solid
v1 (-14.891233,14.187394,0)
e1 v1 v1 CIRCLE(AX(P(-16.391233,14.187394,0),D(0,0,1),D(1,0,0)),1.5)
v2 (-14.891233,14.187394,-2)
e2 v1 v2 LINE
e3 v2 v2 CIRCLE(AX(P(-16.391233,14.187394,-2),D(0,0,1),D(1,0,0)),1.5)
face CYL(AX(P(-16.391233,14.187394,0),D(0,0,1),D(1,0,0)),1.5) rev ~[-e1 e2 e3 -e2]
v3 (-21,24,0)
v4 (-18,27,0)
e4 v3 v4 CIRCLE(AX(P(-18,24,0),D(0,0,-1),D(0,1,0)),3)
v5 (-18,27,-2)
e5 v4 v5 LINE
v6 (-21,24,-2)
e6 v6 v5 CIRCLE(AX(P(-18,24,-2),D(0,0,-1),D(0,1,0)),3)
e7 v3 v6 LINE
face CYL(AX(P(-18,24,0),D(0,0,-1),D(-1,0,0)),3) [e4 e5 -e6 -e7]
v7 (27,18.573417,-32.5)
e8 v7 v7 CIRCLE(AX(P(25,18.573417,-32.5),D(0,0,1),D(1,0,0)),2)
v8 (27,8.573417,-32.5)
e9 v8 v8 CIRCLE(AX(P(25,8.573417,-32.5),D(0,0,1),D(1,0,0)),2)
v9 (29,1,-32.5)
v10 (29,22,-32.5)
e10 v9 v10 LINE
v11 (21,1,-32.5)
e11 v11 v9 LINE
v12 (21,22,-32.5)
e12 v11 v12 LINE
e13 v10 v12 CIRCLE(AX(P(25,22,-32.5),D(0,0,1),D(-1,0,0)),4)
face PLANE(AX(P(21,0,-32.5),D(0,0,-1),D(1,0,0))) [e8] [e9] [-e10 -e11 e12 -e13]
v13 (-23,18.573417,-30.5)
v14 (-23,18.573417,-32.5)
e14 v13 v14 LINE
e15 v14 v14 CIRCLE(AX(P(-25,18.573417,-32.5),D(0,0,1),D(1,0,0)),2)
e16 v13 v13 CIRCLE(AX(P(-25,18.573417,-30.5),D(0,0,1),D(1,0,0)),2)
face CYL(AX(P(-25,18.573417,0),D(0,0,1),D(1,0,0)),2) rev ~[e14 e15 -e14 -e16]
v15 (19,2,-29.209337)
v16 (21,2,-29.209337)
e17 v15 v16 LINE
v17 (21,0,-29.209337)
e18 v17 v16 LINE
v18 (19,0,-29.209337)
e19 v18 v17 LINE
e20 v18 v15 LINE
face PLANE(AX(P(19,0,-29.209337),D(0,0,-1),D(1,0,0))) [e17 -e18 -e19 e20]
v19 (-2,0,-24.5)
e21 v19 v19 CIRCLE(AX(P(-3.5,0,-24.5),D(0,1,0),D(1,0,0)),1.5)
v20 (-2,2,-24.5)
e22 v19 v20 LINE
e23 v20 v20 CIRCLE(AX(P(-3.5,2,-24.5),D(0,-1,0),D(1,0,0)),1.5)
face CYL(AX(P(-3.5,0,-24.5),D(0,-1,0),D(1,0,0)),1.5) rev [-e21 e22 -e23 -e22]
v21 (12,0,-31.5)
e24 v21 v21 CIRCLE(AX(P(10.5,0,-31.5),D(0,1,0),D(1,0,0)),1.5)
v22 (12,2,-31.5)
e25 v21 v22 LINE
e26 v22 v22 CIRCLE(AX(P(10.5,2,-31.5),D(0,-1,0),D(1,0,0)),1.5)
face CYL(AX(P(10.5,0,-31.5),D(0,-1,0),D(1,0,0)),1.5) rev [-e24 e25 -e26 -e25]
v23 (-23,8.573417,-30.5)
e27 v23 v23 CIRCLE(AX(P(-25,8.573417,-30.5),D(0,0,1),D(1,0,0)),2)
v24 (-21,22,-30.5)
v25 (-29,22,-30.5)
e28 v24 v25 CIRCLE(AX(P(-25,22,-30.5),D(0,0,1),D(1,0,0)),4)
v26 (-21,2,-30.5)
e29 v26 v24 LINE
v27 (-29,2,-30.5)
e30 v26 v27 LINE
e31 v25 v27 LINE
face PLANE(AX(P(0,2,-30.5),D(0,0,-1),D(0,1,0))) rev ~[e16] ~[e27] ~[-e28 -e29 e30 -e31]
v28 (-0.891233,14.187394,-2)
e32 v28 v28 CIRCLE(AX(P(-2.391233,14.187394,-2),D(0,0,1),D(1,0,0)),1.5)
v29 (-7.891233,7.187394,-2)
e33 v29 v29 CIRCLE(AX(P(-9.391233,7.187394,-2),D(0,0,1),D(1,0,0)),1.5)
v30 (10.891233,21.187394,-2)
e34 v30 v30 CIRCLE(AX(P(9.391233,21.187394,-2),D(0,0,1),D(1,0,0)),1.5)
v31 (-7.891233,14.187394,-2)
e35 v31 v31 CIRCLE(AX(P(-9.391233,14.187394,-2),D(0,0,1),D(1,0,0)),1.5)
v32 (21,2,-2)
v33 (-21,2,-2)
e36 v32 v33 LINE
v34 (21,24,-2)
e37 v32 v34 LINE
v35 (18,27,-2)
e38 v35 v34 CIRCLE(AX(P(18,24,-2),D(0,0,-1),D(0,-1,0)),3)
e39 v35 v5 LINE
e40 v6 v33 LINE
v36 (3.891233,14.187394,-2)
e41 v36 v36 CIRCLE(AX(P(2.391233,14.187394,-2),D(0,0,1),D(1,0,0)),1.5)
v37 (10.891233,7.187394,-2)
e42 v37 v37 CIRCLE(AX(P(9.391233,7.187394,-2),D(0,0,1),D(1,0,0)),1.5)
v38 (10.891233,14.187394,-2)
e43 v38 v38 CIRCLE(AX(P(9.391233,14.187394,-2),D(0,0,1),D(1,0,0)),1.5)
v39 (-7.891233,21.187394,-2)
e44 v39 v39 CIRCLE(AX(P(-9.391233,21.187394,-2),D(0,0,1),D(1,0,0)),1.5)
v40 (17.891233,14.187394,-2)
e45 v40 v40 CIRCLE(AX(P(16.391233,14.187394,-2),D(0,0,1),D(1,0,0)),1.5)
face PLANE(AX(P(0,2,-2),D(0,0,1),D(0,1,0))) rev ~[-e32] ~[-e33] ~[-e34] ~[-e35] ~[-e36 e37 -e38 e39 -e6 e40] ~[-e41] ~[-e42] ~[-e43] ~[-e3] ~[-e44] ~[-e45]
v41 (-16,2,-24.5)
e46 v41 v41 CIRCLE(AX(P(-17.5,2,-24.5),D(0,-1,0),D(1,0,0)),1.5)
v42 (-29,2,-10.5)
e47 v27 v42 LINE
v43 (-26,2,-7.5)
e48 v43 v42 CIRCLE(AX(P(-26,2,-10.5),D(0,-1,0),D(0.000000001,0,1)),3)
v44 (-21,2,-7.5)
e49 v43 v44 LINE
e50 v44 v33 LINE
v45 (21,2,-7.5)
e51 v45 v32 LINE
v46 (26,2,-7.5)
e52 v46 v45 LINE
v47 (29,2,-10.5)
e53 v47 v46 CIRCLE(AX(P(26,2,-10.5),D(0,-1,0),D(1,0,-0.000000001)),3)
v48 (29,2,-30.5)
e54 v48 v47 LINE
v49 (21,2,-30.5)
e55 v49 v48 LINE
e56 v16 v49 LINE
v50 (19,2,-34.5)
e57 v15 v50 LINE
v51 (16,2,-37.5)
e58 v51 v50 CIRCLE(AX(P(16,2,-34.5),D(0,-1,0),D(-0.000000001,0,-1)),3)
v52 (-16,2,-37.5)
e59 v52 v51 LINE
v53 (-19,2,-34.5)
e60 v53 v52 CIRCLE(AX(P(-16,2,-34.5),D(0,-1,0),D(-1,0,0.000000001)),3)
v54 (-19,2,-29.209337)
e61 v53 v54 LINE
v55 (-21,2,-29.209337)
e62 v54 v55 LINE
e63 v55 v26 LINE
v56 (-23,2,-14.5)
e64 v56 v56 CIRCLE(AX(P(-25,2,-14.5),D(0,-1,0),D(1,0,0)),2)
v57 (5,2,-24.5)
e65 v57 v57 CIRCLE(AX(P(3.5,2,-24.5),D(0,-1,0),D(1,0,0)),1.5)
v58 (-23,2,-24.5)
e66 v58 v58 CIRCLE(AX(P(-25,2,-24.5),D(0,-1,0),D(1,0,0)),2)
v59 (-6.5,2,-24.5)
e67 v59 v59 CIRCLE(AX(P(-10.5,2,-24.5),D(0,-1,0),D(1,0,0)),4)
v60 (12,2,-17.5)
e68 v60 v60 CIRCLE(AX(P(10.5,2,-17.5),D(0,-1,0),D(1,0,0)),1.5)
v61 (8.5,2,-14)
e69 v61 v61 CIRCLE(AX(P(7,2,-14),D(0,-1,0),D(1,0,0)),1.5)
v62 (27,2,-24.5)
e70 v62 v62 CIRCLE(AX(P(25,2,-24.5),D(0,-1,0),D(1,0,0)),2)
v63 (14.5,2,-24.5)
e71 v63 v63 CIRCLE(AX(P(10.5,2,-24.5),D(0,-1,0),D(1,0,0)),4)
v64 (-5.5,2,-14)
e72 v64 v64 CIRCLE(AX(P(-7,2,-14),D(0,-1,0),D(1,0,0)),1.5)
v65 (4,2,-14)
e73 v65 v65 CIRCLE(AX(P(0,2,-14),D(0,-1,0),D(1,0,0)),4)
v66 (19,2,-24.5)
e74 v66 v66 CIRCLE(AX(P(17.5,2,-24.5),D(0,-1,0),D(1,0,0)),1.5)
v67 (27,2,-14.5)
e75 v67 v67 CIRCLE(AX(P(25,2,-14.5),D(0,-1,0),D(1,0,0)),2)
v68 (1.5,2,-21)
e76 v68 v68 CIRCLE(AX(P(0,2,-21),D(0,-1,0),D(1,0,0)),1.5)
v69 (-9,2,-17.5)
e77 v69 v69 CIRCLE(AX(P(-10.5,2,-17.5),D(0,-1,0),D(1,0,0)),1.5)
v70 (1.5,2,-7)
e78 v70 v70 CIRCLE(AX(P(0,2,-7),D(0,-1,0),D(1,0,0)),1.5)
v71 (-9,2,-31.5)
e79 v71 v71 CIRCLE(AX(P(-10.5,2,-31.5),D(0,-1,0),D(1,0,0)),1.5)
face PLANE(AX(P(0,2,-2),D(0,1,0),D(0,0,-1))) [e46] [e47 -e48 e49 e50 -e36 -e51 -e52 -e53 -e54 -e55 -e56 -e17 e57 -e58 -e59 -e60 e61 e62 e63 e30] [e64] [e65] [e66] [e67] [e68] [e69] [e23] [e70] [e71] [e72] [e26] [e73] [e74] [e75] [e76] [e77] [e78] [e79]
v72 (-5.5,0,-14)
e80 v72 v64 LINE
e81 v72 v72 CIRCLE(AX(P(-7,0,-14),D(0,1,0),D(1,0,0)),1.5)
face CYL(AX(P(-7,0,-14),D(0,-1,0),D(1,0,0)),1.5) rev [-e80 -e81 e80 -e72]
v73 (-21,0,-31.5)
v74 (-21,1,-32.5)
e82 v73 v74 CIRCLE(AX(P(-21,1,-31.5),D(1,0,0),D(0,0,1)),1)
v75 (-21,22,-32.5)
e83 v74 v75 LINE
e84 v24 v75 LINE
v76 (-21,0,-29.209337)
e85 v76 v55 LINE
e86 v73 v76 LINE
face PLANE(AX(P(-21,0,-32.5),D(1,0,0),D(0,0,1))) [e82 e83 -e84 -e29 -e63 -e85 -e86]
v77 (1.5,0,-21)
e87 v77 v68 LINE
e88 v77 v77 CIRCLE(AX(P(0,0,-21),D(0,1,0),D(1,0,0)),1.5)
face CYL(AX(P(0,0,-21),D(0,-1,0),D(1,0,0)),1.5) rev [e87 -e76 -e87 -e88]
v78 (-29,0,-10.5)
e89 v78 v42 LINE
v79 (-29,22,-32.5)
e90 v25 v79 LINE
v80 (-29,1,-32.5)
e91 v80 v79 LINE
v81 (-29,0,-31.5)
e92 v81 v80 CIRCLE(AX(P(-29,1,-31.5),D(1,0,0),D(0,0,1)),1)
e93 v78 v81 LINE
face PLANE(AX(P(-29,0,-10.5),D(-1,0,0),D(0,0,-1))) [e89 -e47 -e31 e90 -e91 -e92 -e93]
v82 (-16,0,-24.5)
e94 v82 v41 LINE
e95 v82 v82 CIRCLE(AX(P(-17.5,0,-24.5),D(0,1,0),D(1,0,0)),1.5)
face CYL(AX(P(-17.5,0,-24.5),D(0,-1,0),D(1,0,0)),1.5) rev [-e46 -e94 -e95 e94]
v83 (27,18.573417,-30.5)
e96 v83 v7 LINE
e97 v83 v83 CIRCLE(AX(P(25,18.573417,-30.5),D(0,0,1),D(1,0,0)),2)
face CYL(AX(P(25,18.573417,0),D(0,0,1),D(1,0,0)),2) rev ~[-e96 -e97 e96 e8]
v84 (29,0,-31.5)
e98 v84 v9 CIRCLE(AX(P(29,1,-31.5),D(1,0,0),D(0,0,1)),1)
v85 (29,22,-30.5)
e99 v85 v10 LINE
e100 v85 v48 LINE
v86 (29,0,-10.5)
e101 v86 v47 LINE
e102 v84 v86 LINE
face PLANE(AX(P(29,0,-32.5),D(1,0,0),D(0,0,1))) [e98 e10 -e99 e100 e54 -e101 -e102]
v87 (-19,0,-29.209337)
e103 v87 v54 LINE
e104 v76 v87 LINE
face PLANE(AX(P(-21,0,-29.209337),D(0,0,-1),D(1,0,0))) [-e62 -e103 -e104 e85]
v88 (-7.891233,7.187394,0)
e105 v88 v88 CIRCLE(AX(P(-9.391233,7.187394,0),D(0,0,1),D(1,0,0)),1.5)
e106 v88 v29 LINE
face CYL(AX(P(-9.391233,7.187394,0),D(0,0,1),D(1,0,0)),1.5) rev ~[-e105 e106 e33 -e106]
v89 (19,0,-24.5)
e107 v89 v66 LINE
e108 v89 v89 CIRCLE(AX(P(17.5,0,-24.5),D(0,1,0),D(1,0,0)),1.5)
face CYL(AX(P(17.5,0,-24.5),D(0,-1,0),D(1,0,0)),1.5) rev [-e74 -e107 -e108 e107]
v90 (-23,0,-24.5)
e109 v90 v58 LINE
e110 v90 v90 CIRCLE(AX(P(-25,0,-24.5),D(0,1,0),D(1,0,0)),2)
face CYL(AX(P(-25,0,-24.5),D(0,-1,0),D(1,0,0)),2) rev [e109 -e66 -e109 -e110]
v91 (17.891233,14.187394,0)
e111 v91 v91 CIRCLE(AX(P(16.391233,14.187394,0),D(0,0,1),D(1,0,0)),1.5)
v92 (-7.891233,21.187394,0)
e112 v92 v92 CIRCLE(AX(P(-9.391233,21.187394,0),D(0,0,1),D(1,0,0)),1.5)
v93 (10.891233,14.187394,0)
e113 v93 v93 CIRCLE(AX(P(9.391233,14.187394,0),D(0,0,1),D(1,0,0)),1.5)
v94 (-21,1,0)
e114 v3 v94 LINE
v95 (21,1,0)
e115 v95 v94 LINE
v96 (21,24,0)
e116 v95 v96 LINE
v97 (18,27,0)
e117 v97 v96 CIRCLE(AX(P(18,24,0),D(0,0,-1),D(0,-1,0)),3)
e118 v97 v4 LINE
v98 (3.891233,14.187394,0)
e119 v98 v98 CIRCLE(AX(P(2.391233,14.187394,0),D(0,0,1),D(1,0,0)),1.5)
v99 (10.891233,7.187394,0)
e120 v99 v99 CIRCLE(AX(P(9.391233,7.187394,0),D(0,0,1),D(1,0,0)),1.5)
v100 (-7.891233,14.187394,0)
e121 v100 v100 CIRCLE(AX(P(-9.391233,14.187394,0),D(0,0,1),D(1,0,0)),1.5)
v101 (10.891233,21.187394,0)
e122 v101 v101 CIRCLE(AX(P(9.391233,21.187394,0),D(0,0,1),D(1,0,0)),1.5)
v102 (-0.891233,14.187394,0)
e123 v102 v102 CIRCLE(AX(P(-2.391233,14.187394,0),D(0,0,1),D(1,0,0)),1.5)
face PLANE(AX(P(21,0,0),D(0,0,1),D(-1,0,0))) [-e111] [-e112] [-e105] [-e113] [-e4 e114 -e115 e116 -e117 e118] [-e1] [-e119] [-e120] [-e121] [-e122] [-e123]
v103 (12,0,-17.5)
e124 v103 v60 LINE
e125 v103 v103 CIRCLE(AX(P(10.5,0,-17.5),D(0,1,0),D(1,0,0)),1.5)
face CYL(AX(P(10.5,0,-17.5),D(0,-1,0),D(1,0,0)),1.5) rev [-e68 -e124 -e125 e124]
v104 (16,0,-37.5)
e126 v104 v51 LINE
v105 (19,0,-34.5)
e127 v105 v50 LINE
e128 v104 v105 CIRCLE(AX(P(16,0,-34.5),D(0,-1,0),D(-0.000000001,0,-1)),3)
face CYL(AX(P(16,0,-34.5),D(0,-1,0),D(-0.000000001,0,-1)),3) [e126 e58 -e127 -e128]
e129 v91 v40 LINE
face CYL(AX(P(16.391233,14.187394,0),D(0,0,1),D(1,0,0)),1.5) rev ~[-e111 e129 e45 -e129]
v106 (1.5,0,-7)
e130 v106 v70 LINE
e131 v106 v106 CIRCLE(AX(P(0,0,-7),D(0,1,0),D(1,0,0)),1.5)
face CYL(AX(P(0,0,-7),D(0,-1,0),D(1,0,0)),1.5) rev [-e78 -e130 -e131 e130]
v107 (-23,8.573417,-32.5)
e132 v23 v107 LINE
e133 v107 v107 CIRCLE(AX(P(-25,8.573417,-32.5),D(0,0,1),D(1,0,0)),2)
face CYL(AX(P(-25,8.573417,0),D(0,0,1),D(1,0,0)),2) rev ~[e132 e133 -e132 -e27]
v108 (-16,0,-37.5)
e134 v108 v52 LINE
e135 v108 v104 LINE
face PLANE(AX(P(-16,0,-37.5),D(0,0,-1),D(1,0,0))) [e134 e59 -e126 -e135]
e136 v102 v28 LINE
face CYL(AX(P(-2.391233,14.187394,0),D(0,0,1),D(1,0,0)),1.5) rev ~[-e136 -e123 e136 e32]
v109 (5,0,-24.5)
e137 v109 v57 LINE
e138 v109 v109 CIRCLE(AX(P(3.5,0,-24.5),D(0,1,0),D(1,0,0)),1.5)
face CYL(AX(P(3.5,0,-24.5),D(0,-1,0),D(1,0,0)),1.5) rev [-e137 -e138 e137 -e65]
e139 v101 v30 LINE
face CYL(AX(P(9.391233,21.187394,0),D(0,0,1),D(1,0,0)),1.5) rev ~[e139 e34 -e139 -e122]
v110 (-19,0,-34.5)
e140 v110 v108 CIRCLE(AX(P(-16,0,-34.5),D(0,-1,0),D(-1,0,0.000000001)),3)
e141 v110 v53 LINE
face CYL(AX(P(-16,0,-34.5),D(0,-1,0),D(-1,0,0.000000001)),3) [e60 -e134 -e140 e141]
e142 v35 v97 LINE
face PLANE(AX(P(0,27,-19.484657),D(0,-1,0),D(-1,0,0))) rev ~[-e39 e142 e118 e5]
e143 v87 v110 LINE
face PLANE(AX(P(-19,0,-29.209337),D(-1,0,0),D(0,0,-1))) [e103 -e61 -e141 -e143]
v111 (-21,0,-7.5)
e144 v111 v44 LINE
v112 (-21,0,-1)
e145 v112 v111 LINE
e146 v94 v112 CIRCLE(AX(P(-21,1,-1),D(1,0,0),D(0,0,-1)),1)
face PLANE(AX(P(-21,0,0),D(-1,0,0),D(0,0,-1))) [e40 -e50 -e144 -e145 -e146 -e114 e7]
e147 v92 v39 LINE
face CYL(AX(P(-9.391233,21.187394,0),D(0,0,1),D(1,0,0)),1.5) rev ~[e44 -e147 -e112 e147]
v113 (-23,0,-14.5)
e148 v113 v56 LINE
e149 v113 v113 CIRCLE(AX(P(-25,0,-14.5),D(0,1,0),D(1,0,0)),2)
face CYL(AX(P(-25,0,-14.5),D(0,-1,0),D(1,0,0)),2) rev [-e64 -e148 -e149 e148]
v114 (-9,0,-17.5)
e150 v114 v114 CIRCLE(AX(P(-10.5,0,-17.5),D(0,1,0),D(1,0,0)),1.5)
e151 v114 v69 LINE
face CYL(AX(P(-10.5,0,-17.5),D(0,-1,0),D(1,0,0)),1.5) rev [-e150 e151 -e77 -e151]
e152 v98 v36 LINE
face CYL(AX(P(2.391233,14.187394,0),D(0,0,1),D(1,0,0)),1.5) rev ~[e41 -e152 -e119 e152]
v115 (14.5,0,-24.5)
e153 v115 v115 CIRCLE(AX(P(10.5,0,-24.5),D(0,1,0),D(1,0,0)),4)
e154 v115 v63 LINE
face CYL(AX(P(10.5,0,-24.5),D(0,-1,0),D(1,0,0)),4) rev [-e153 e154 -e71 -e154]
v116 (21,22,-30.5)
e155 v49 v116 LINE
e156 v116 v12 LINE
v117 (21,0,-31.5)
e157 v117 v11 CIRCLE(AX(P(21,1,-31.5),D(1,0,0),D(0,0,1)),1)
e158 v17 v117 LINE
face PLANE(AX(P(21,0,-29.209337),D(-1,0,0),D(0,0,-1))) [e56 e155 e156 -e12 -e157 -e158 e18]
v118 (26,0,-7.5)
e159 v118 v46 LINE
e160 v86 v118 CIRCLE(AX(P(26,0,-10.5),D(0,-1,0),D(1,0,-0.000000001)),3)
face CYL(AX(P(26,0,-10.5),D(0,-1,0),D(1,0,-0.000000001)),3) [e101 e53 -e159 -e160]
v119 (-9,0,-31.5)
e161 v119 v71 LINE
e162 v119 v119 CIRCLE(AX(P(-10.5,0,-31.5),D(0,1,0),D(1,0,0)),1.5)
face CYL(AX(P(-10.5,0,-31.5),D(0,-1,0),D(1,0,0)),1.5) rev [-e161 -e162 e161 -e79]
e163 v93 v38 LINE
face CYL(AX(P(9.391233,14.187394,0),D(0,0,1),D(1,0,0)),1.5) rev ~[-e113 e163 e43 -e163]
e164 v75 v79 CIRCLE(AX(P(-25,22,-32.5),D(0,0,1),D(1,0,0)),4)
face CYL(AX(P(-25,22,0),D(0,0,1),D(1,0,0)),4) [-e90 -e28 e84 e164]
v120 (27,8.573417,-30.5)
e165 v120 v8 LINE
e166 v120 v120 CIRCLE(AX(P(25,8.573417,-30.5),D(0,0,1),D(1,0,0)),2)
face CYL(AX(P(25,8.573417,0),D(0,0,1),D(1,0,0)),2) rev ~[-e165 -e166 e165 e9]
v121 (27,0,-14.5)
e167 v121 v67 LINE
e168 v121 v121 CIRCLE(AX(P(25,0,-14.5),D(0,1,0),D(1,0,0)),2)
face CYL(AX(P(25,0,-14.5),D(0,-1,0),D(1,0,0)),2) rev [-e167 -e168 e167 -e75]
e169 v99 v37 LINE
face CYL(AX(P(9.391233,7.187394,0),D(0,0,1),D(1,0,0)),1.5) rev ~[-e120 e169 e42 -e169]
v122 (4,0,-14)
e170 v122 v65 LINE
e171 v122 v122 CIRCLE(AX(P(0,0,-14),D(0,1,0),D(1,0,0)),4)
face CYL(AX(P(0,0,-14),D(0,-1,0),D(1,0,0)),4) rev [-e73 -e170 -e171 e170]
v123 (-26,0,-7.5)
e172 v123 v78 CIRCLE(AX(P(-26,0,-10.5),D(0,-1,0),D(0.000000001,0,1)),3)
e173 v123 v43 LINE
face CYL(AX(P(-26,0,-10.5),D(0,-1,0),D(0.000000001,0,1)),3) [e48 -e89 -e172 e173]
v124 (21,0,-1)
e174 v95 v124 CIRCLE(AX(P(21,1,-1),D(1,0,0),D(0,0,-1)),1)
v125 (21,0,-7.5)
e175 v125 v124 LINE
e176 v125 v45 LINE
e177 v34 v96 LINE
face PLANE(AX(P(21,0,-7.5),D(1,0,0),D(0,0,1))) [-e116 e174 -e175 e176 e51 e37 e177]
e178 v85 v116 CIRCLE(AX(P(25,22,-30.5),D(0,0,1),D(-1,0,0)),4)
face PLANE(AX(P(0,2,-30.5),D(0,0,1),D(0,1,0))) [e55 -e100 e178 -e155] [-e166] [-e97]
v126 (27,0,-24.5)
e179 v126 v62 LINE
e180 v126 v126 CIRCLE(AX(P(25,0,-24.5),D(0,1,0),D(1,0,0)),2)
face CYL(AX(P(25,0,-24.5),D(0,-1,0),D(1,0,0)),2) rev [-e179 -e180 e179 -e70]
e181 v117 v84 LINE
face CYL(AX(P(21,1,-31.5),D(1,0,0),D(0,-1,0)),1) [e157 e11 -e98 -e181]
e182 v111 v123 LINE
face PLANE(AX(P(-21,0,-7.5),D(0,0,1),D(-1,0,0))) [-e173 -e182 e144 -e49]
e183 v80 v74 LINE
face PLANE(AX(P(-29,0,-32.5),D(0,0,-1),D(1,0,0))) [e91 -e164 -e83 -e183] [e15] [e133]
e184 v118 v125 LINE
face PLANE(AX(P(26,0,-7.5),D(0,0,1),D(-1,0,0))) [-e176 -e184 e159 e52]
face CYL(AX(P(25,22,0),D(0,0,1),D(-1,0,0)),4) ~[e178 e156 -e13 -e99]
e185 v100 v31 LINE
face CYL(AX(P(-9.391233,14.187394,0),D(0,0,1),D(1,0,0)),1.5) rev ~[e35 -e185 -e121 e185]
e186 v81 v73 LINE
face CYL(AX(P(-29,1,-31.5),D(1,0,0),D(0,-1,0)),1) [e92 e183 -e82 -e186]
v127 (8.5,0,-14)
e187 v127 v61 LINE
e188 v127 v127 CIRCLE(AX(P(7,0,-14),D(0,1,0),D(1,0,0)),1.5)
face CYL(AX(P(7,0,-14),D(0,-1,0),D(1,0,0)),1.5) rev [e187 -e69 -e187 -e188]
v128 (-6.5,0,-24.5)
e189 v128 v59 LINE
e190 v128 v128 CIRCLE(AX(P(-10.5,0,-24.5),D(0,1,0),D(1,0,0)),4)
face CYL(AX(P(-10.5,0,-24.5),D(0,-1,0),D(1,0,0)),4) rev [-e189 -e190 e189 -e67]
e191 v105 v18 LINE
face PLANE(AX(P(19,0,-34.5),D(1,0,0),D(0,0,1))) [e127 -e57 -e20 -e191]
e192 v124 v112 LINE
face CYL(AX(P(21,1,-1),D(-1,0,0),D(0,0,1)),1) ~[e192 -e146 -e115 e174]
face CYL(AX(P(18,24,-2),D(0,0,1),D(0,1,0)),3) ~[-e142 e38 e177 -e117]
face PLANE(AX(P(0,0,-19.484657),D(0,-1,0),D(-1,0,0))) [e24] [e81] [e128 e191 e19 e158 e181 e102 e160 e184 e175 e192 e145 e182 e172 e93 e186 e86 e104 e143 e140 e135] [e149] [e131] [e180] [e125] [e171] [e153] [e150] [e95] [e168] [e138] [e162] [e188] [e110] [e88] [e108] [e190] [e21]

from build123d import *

# Parameters (mm, degrees)
SKETCH1_R               = 2
SKETCH1_R_2             = 4
SKETCH1_R_3             = 1.5
BOSS_EXTRUDE1_DEPTH     = 27
SKETCH3_W               = 28.5
SKETCH3_H               = 26.527175283
SKETCH3_W_2             = 6.268481117
CUT_EXTRUDE1_DEPTH      = 30
CUT_EXTRUDE1_DEPTH_BACK = 30
SKETCH4_R               = 2
SKETCH4_R_2             = 1.5
CUT_EXTRUDE2_DEPTH      = 38.5
SKETCH5_W               = 38
SKETCH5_H               = 27.064125823
CUT_EXTRUDE3_DEPTH      = 27
FILLET1_R               = 3
FILLET2_R               = 1


with BuildPart() as part:
    # Sketch1 → Boss-Extrude1 (new body)
    with BuildSketch(Plane(origin=(0, 0, 0), x_dir=(1, 0, 0), z_dir=(0, 1, 0))):
        with BuildLine():
            Line((21, 0), (-21, 0))
            Line((-21, 0), (-21, 7.5))
            Line((-21, 7.5), (-26, 7.5))
            ThreePointArc((-26, 7.5), (-28.121320344, 8.378679656), (-29, 10.5))
            Line((-29, 10.5), (-29, 32.5))
            Line((-29, 32.5), (-21, 32.5))
            Line((-21, 32.5), (-21, 29.209337349))
            Line((-21, 29.209337349), (-19, 29.209337349))
            Line((-19, 29.209337349), (-19, 34.5))
            ThreePointArc((-19, 34.5), (-18.121320344, 36.621320344), (-16, 37.5))
            Line((-16, 37.5), (16, 37.5))
            ThreePointArc((16, 37.5), (18.121320344, 36.621320344), (19, 34.5))
            Line((19, 34.5), (19, 29.209337349))
            Line((19, 29.209337349), (21, 29.209337349))
            Line((21, 29.209337349), (21, 32.5))
            Line((21, 32.5), (29, 32.5))
            Line((29, 32.5), (29, 10.5))
            ThreePointArc((29, 10.5), (28.121320344, 8.378679656), (26, 7.5))
            Line((26, 7.5), (21, 7.5))
            Line((21, 7.5), (21, 0))
        make_face()
        with Locations((-25, 24.5)):
            Circle(SKETCH1_R, mode=Mode.SUBTRACT)
        with Locations((-25, 14.5)):
            Circle(SKETCH1_R, mode=Mode.SUBTRACT)
        with Locations((25, 14.5)):
            Circle(SKETCH1_R, mode=Mode.SUBTRACT)
        with Locations((25, 24.5)):
            Circle(SKETCH1_R, mode=Mode.SUBTRACT)
        with Locations((0, 14)):
            Circle(SKETCH1_R_2, mode=Mode.SUBTRACT)
        with Locations((0, 21)):
            Circle(SKETCH1_R_3, mode=Mode.SUBTRACT)
        with Locations((7, 14)):
            Circle(SKETCH1_R_3, mode=Mode.SUBTRACT)
        with Locations((0, 7)):
            Circle(SKETCH1_R_3, mode=Mode.SUBTRACT)
        with Locations((-7, 14)):
            Circle(SKETCH1_R_3, mode=Mode.SUBTRACT)
        with Locations((10.5, 24.5)):
            Circle(SKETCH1_R_2, mode=Mode.SUBTRACT)
        with Locations((10.5, 31.5)):
            Circle(SKETCH1_R_3, mode=Mode.SUBTRACT)
        with Locations((-10.5, 24.5)):
            Circle(SKETCH1_R_2, mode=Mode.SUBTRACT)
        with Locations((-10.5, 31.5)):
            Circle(SKETCH1_R_3, mode=Mode.SUBTRACT)
        with Locations((3.5, 24.5)):
            Circle(SKETCH1_R_3, mode=Mode.SUBTRACT)
        with Locations((10.5, 17.5)):
            Circle(SKETCH1_R_3, mode=Mode.SUBTRACT)
        with Locations((17.5, 24.5)):
            Circle(SKETCH1_R_3, mode=Mode.SUBTRACT)
        with Locations((-3.5, 24.5)):
            Circle(SKETCH1_R_3, mode=Mode.SUBTRACT)
        with Locations((-10.5, 17.5)):
            Circle(SKETCH1_R_3, mode=Mode.SUBTRACT)
        with Locations((-17.5, 24.5)):
            Circle(SKETCH1_R_3, mode=Mode.SUBTRACT)
    extrude(amount=BOSS_EXTRUDE1_DEPTH)

    # Sketch3 → Cut-Extrude1 (cut, two sides)
    with BuildSketch(Plane(origin=(0, 0, 0), x_dir=(0, 0, -1), z_dir=(1, 0, 0))) as cut_extrude1_sk:
        with Locations((16.25, 15.263587642)):
            Rectangle(SKETCH3_W, SKETCH3_H)
        with Locations((35.691254192, 15.263587642)):
            Rectangle(SKETCH3_W_2, SKETCH3_H)
    extrude(amount=CUT_EXTRUDE1_DEPTH, mode=Mode.SUBTRACT)
    extrude(cut_extrude1_sk.sketch, amount=-CUT_EXTRUDE1_DEPTH_BACK, mode=Mode.SUBTRACT)

    # Sketch4 → Cut-Extrude2 (cut, through all)
    with BuildSketch(Plane.XY):
        with Locations((-25, 18.573417332)):
            Circle(SKETCH4_R)
        with Locations((-25, 8.573417332)):
            Circle(SKETCH4_R)
        with Locations((-9.391233077, 21.187393838)):
            Circle(SKETCH4_R_2)
        with Locations((-2.391233077, 14.187393838)):
            Circle(SKETCH4_R_2)
        with Locations((-9.391233077, 7.187393838)):
            Circle(SKETCH4_R_2)
        with Locations((-16.391233077, 14.187393838)):
            Circle(SKETCH4_R_2)
        with Locations((2.391233077, 14.187393838)):
            Circle(SKETCH4_R_2)
        with Locations((16.391233077, 14.187393838)):
            Circle(SKETCH4_R_2)
        with Locations((9.391233077, 7.187393838)):
            Circle(SKETCH4_R_2)
        with Locations((9.391233077, 21.187393838)):
            Circle(SKETCH4_R_2)
        with Locations((25, 8.573417332)):
            Circle(SKETCH4_R)
        with Locations((25, 18.573417332)):
            Circle(SKETCH4_R)
        with Locations((-9.391233077, 14.187393838)):
            Circle(SKETCH4_R_2)
        with Locations((9.391233077, 14.187393838)):
            Circle(SKETCH4_R_2)
        with BuildLine():
            Line((-29, 22), (-29, 28.587976658))
            Line((-29, 28.587976658), (-21, 28.587976658))
            Line((-21, 28.587976658), (-21, 22))
            ThreePointArc((-21, 22), (-25, 26), (-29, 22))
        make_face()
        with BuildLine():
            Line((21, 28.587976658), (21, 22))
            ThreePointArc((21, 22), (25, 26), (29, 22))
            Line((29, 22), (29, 28.587976658))
            Line((29, 28.587976658), (21, 28.587976658))
        make_face()
    extrude(amount=-CUT_EXTRUDE2_DEPTH, mode=Mode.SUBTRACT)

    # Sketch5 → Cut-Extrude3 (cut)
    with BuildSketch(Plane(origin=(0, 0, -32.557013634), x_dir=(-1, 0, 0), z_dir=(0, 0, -1))):
        with Locations((0, 15.532062912)):
            Rectangle(SKETCH5_W, SKETCH5_H)
    extrude(amount=-CUT_EXTRUDE3_DEPTH, mode=Mode.SUBTRACT)

    # Fillet1
    fillet1_edges = [part.edges().sort_by_distance(p)[0] for p in [
        (21, 27, -1),
        (-21, 27, -1),
    ]]
    fillet(fillet1_edges, radius=FILLET1_R)

    # Fillet2
    fillet2_edges = [part.edges().sort_by_distance(p)[0] for p in [
        (-25, 0, -32.5),
        (25, 0, -32.5),
        (0, 0, 0),
    ]]
    fillet(fillet2_edges, radius=FILLET2_R)


solid = part.part
